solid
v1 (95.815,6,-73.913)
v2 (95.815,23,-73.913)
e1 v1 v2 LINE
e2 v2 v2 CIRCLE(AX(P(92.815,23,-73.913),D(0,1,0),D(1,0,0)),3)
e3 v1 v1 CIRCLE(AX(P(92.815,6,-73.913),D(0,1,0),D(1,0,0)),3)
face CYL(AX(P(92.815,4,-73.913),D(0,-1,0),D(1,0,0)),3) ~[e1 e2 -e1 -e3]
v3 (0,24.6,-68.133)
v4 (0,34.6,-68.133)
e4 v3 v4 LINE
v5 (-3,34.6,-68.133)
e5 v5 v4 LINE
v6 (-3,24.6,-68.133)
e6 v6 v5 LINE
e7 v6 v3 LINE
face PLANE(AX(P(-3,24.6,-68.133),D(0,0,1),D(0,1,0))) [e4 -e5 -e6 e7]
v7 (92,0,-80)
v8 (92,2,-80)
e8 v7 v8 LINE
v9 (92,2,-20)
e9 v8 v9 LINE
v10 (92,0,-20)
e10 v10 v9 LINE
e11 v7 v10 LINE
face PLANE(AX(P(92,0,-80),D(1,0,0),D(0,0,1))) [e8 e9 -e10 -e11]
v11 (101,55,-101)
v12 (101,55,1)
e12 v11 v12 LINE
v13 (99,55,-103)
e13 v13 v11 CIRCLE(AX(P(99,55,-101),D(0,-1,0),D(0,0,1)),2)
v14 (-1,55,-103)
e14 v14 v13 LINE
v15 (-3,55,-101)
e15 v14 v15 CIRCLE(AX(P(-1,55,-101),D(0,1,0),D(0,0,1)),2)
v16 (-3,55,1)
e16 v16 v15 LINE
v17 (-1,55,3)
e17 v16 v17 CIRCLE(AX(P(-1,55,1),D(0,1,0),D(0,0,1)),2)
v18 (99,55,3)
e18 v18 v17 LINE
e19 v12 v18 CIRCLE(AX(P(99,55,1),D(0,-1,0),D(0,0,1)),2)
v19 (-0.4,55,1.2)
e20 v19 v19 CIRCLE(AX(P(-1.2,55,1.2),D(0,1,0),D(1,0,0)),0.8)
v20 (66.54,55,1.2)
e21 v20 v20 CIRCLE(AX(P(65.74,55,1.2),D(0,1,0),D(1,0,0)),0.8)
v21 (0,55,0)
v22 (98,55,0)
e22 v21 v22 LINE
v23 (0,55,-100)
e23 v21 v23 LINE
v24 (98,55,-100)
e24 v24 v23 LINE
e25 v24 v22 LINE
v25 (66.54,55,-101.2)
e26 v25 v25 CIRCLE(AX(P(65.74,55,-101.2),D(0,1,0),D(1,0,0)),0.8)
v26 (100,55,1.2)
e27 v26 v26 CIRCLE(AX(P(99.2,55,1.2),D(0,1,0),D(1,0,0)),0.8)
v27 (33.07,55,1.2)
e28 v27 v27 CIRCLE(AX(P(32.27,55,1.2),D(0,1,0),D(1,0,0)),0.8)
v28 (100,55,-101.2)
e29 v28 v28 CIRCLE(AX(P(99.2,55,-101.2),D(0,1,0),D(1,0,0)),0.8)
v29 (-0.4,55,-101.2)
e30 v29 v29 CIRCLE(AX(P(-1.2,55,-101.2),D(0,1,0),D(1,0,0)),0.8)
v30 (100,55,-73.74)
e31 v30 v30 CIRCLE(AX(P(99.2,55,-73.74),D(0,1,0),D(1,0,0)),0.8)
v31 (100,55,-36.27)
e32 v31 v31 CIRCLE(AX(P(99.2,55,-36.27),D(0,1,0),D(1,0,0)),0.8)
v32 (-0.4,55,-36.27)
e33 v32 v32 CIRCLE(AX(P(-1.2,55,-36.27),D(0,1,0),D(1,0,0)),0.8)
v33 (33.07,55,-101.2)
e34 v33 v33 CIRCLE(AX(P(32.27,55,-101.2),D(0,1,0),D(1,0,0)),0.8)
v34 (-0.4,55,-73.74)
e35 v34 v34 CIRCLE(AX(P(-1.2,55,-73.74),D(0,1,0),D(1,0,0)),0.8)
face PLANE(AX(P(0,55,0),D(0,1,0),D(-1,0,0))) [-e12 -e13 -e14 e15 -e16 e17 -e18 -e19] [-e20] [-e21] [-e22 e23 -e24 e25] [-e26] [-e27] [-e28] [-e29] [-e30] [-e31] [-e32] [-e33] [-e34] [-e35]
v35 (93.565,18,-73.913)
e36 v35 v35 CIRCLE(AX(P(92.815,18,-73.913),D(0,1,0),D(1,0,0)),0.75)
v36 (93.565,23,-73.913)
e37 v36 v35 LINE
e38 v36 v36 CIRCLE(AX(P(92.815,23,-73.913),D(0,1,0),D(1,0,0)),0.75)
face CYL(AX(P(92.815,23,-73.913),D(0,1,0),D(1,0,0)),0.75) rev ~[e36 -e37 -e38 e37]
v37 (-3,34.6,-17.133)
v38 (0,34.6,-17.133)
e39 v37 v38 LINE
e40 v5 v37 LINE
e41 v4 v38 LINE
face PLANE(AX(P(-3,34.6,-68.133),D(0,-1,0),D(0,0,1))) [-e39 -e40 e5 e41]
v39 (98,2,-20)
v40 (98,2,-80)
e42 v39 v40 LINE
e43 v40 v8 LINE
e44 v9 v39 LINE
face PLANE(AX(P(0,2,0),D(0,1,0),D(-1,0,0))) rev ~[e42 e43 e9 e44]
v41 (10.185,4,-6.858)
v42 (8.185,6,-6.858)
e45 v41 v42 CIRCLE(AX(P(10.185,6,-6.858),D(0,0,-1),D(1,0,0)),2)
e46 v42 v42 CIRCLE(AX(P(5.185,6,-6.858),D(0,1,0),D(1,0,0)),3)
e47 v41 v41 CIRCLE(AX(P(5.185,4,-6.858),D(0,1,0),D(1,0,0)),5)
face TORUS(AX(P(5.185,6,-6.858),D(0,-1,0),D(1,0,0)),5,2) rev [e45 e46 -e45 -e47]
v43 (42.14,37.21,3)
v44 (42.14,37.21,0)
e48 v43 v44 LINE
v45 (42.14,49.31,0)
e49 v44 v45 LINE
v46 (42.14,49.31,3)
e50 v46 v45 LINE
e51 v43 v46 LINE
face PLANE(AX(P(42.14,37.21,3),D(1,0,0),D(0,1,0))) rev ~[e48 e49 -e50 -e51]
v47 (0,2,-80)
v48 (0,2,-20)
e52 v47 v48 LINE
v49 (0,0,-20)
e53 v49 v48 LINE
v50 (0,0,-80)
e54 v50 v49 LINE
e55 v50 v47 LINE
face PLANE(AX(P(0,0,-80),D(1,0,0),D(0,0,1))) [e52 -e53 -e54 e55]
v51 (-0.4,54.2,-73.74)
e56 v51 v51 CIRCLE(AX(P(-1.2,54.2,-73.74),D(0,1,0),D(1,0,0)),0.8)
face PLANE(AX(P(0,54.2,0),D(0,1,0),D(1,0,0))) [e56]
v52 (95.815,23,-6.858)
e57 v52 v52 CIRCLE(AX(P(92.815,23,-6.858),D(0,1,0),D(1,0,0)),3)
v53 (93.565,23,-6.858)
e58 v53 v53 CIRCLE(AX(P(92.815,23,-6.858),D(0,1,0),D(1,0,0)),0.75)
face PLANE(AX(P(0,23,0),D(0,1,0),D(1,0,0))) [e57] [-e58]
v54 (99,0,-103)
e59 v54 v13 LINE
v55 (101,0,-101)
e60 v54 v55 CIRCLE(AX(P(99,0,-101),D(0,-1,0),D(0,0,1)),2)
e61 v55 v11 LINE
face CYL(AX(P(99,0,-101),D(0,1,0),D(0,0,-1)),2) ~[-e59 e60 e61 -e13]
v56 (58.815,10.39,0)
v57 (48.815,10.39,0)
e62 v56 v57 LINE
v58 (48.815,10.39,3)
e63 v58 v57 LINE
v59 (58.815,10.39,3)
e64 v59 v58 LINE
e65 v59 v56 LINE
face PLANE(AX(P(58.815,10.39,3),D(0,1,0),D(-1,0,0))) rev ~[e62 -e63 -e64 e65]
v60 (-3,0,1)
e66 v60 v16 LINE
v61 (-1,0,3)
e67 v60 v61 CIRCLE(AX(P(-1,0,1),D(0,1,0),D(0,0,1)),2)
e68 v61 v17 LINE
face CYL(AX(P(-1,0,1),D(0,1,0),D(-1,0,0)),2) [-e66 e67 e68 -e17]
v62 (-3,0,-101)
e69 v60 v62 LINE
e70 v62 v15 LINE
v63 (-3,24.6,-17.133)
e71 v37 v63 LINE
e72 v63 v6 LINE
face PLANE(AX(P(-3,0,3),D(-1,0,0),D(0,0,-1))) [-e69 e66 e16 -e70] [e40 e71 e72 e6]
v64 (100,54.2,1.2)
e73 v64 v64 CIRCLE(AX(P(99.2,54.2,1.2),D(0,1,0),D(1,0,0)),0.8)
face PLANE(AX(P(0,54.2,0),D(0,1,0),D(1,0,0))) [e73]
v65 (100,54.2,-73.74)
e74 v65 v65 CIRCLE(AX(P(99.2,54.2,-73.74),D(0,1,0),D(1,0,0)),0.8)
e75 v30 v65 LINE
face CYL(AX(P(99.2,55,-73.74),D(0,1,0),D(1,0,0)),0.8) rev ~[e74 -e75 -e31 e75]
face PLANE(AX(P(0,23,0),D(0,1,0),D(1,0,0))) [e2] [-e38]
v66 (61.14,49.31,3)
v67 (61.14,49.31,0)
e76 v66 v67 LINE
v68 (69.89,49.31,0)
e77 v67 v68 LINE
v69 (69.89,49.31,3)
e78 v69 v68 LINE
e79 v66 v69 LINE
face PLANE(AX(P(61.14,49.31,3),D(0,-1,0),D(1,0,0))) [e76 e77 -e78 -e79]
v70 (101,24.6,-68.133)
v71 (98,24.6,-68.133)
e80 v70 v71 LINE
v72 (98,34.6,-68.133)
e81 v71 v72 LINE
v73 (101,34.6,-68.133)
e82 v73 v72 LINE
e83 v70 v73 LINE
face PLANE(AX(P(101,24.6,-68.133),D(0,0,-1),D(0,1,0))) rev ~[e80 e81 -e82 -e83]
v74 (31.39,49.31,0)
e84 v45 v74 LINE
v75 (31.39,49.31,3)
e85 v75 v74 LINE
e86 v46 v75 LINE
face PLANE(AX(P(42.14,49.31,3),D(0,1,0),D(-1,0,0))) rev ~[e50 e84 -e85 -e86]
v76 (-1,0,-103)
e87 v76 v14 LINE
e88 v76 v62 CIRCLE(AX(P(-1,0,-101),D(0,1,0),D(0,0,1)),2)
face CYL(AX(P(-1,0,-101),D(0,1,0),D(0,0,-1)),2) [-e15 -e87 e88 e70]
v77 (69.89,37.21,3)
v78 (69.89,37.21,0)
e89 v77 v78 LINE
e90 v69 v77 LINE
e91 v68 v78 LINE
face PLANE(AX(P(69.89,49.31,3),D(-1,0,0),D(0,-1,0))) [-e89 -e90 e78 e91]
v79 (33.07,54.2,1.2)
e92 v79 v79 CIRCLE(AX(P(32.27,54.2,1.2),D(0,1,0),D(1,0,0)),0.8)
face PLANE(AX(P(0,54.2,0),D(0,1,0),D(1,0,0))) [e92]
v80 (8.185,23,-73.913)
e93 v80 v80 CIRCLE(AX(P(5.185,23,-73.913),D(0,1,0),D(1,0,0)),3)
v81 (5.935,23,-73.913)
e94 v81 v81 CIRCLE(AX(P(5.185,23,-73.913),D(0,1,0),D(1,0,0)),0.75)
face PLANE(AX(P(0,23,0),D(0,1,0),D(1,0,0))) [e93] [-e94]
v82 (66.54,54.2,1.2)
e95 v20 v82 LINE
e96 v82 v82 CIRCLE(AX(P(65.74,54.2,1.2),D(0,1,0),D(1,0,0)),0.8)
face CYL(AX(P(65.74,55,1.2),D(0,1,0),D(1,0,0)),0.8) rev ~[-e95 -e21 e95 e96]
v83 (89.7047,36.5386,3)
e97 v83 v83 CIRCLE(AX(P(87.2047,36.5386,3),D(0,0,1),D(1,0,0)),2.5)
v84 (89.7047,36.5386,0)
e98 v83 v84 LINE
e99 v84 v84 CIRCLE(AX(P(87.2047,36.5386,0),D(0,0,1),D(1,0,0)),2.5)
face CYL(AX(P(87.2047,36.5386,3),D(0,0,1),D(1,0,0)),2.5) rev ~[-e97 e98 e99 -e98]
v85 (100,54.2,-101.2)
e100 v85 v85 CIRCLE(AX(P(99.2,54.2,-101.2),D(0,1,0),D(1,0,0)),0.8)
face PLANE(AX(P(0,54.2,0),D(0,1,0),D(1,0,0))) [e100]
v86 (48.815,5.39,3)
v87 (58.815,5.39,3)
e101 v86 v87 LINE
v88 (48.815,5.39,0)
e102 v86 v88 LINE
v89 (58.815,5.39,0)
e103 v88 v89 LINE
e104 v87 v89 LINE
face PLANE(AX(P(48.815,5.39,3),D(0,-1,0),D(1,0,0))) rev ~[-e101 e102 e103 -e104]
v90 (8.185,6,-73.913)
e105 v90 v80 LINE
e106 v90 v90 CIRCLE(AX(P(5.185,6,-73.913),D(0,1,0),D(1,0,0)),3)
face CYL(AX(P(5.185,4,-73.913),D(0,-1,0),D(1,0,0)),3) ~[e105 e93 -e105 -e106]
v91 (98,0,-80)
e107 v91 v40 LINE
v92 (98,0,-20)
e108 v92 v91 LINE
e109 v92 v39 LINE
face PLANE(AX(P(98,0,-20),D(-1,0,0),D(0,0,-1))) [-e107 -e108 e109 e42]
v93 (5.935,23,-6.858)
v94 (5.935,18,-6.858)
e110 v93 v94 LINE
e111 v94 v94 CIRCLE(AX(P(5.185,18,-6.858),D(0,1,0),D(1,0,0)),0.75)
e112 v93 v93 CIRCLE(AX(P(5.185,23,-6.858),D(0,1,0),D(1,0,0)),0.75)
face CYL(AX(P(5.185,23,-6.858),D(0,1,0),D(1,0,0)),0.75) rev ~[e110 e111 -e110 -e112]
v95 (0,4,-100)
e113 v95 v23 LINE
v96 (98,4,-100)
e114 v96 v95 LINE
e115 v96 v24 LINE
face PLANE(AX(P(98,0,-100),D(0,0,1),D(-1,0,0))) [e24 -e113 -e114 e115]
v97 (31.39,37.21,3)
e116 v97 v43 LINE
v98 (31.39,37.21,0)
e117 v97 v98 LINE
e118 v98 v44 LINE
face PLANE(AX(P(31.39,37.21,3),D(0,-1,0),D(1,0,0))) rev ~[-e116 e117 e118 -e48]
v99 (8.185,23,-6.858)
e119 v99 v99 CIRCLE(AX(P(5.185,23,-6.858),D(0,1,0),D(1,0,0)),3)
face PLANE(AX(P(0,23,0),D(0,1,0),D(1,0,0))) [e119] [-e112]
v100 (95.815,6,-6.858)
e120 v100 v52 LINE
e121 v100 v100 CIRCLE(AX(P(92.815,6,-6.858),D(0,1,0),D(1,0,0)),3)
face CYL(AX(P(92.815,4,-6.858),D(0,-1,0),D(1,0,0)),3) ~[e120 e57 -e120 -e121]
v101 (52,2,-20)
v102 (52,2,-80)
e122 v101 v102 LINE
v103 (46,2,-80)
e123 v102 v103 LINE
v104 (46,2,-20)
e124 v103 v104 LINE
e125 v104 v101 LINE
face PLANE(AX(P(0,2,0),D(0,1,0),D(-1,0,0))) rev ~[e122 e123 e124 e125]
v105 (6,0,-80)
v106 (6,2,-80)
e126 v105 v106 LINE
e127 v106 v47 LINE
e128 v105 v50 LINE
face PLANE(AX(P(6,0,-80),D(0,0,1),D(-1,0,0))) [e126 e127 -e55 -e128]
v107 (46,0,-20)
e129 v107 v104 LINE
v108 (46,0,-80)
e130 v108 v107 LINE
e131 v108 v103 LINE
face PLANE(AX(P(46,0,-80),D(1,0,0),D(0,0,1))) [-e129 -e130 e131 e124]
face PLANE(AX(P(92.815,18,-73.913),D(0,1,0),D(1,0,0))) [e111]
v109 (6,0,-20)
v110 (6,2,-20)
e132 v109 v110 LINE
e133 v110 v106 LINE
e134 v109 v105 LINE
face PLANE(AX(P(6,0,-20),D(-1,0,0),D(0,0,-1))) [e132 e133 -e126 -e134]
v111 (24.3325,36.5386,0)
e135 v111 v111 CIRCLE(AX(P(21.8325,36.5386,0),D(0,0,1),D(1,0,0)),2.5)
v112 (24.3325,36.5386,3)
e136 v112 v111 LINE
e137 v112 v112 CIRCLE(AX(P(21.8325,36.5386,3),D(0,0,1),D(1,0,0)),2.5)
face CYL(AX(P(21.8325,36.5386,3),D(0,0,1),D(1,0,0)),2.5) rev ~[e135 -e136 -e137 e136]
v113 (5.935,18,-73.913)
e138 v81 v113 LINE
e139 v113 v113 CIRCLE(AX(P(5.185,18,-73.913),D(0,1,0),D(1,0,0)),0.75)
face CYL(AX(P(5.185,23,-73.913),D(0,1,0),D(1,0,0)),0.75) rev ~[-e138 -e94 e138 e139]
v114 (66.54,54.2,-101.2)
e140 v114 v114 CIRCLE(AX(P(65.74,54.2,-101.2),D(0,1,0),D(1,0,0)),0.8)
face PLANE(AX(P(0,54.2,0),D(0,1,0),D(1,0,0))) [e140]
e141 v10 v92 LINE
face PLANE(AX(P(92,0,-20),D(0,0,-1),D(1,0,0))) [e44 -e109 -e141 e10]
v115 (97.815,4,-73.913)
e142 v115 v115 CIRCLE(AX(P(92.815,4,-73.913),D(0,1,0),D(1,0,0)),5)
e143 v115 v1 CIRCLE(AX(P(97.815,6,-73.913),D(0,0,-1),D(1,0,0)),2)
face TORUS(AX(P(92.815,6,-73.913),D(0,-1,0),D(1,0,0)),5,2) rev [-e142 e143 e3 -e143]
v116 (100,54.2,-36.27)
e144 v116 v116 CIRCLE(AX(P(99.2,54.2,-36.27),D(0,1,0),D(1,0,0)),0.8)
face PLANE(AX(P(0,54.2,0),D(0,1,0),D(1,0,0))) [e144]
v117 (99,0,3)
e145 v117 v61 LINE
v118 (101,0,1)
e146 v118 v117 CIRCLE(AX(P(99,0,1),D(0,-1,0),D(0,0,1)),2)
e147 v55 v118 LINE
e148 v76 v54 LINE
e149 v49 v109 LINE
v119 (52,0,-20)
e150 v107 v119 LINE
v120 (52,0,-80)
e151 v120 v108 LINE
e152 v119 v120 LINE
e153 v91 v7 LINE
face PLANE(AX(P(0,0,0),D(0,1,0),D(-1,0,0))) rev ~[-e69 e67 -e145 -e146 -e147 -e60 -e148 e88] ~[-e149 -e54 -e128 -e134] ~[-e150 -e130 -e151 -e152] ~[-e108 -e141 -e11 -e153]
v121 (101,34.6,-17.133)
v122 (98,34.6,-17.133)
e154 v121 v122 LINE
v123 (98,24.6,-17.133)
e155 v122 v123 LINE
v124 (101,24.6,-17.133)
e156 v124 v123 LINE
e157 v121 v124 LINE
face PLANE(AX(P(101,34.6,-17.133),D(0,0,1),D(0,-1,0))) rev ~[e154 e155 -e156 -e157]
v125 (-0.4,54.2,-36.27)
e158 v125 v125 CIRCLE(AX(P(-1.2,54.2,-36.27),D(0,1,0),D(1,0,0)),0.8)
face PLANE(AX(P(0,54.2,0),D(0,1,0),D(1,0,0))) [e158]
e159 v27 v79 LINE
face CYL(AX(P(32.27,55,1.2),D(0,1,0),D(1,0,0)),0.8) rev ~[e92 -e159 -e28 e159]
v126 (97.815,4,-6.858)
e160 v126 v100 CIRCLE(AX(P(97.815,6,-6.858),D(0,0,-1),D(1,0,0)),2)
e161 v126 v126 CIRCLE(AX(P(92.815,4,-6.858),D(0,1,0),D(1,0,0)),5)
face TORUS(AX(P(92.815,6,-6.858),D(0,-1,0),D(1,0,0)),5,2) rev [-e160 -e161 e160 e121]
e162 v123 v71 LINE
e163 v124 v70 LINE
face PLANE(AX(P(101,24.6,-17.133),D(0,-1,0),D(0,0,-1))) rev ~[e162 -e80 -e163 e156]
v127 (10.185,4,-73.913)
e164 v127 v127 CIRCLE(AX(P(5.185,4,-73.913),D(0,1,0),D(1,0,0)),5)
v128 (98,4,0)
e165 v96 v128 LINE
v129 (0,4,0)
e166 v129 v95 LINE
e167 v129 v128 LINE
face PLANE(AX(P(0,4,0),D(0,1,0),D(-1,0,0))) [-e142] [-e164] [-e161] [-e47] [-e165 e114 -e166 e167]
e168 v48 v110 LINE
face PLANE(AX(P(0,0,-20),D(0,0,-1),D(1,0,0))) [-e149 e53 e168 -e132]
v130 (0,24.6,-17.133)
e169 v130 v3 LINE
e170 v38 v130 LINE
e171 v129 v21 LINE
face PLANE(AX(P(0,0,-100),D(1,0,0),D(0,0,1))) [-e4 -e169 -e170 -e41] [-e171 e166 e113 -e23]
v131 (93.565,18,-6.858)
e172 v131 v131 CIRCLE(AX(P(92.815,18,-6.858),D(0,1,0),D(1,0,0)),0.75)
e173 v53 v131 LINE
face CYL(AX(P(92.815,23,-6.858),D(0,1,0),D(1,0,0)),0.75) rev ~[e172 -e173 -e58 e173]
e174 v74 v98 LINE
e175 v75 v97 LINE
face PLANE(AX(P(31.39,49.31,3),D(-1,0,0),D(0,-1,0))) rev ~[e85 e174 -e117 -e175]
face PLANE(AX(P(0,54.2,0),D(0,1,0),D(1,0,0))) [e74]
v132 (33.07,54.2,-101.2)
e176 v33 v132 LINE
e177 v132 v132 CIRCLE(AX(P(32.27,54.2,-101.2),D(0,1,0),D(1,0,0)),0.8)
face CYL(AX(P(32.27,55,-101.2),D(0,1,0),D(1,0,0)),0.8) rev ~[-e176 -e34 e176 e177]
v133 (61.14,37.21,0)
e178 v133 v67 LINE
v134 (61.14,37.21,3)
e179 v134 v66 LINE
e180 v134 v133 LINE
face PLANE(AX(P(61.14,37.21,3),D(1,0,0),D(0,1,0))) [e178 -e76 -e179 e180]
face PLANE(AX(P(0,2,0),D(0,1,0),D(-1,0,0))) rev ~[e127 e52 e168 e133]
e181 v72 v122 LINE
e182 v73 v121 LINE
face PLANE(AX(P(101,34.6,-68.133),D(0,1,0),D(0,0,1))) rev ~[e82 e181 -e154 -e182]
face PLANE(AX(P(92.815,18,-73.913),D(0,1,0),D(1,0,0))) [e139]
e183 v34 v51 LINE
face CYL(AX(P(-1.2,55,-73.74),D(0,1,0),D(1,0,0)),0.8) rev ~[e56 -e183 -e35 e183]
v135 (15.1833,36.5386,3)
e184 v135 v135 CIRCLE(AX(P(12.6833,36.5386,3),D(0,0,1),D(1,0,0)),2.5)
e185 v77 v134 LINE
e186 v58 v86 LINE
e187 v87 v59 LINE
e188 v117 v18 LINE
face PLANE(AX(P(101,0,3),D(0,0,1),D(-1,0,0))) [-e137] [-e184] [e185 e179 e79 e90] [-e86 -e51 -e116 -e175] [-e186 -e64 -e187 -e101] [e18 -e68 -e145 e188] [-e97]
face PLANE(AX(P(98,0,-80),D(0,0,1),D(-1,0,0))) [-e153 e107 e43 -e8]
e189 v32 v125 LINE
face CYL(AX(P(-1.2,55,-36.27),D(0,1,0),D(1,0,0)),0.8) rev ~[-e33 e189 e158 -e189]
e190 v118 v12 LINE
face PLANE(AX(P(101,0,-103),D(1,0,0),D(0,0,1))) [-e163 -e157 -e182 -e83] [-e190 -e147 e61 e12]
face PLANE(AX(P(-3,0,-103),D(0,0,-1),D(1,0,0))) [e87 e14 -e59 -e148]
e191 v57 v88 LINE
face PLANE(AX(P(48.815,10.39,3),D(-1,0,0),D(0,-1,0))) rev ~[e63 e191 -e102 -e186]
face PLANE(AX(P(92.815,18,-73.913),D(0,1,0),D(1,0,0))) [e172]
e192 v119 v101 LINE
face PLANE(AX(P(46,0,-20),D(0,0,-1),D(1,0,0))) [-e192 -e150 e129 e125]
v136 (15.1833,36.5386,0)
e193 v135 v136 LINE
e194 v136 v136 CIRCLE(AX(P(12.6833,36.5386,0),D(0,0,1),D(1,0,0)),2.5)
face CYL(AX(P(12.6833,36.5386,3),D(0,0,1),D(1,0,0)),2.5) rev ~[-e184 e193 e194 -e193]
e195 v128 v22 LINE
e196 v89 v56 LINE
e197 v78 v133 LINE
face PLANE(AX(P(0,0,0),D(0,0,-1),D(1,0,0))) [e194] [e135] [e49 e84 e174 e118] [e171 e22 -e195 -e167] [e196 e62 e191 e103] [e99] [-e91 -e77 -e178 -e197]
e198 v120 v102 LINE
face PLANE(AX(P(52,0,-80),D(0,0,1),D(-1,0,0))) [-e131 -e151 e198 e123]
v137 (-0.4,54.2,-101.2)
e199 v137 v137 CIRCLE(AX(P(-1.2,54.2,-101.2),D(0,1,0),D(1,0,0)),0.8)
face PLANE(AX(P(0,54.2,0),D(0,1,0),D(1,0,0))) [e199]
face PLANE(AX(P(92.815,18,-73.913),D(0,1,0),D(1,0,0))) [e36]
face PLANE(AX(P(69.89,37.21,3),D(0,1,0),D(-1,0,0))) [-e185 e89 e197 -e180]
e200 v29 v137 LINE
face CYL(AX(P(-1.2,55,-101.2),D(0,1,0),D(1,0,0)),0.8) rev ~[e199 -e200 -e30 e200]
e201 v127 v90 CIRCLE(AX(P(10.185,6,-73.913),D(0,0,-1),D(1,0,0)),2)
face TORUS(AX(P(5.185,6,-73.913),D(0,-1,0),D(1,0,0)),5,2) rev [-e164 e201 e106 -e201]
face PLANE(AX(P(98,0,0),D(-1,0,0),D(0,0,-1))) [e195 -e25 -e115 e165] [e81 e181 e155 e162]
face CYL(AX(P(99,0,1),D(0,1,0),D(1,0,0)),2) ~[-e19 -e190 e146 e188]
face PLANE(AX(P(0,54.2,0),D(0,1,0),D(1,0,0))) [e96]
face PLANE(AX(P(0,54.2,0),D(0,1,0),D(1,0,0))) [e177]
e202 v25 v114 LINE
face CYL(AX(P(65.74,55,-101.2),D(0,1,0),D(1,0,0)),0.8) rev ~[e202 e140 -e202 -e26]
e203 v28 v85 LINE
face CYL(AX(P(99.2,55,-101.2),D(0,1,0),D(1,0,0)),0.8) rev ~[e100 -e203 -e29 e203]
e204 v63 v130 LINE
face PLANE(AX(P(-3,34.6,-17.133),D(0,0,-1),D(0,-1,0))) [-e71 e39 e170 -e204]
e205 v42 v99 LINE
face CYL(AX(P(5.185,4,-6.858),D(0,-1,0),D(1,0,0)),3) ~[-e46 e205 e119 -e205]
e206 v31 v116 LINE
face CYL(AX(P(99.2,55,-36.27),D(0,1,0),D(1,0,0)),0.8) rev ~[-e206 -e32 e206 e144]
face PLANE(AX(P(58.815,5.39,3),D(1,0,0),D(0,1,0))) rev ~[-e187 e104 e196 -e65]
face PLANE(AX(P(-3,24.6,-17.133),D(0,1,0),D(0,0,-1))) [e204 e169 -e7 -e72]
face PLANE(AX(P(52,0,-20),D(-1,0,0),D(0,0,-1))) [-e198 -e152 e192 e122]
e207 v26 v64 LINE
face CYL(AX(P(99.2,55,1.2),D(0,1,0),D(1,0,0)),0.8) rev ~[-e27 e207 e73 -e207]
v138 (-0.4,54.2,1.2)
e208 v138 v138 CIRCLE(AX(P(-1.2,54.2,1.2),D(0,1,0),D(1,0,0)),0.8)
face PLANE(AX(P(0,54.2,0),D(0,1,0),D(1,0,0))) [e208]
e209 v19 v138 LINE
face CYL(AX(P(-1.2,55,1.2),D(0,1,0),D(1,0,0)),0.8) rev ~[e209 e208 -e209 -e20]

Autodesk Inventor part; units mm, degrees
ref_plane "YZ Plane" through (0, 0, 0) normal (1, 0, 0) x (0, 1, 0)
ref_plane "XZ Plane" through (0, 0, 0) normal (0, 1, 0) x (-1, 0, 0)
ref_plane "XY Plane" through (0, 0, 0) normal (0, 0, 1) x (1, 0, 0)
sketch "Sketch1" plane through (0, 0, 0) normal (0, 1, 0) x (-1, 0, 0)
  line L0 (0, 0) -> (-98, 0)
  line L1 (-98, 0) -> (-98, -100)
  line L2 (-98, -100) -> (0, -100)
  line L3 (0, -100) -> (0, 0)
  line L4 (3, -103) -> (-101, -103)
  line L5 (-101, -103) -> (-101, 3)
  line L6 (-101, 3) -> (3, 3)
  line L7 (3, 3) -> (3, -103)
  line L8 (0, -20) -> (-6, -20)
  line L9 (-6, -20) -> (-6, -80)
  line L10 (-6, -80) -> (0, -80)
  line L11 (0, -80) -> (0, -20)
  line L12 (-46, -20) -> (-52, -20)
  line L13 (-52, -20) -> (-52, -80)
  line L14 (-52, -80) -> (-46, -80)
  line L15 (-46, -80) -> (-46, -20)
  line L16 (-92, -20) -> (-98, -20)
  line L17 (-98, -20) -> (-98, -80)
  line L18 (-98, -80) -> (-92, -80)
  line L19 (-92, -80) -> (-92, -20)
  point P0 (-49, -20)
  point P1 (-6, -50)
  point P2 (-98, -20)
  point P3 (-98, -80)
  point P4 (0, -80)
  point P5 (0, -20)
  dimension "d0" = 100
  dimension "d1" = 98
  dimension "d2" = 3
  dimension "d48" = 6
  dimension "d49" = 60
  dimension "d50" = 6
  dimension "d51" = 60
  dimension "d52" = 6
  dimension "d53" = 60
  dimension "d54" = 49
  dimension "d55" = 50
extrude "Extrusion1" add sketch "Sketch1" along normal blind 4 contours L3 L8 L9 L10 L2 L1 L18 L19 L16 L0 | L3 L10 L9 L8 | L16 L19 L18 L1 | L15 L14 L13 L12
extrude "Extrusion2" add sketch "Sketch1" along normal blind 55 contours L4 L5 L6 L7
fillet "Fillet1" radius 2 4 edges at (-3, 27.5, 3) (101, 27.5, 3) (101, 27.5, -103) (-3, 27.5, -103)
sketch "Sketch2" plane through (0, 4, 0) normal (0, 1, 0) x (1, 0, 0)
  line L0 (98, 0) -> (98, 100) projected
  line L1 (98, 100) -> (0, 100) projected
  line L2 (0, 100) -> (0, 0) projected
  line L3 (0, 0) -> (98, 0) projected
  circle A0 centre (5.185, 73.913) radius 3
  circle A1 centre (5.185, 6.858) radius 3
  circle A2 centre (92.815, 6.858) radius 3
  circle A3 centre (92.815, 73.913) radius 3
  dimension "d8" = 6
  dimension "d9" = 6
  dimension "d10" = 6
  dimension "d11" = 6
  dimension "d12" = 67.055
  dimension "d13" = 87.63
  dimension "d16" = 6.858
  dimension "d17" = 5.185
extrude "Extrusion3" add sketch "Sketch2" along normal blind 19 contours A0 | A1 | A2 | A3
sketch "Sketch3" plane through (92.815, 23, -73.913) normal (0, 1, 0) x (1, 0, 0)
  circle A0 centre (0, -67.055) radius 3 projected
  circle A1 centre (0, -67.055) radius 0.75
  circle A2 centre (0, 0) radius 3 projected
  circle A3 centre (0, 0) radius 0.75
  circle A4 centre (-87.63, 0) radius 3 projected
  circle A5 centre (-87.63, 0) radius 0.75
  circle A6 centre (-87.63, -67.055) radius 3 projected
  circle A7 centre (-87.63, -67.055) radius 0.75
  point P0 (-92.815, -73.913)
  dimension "d21" = 1.5
  dimension "d22" = 1.5
  dimension "d23" = 1.5
  dimension "d24" = 1.5
extrude "Extrusion4" cut sketch "Sketch3" against normal blind 5 contours A1 | A3 | A5 | A7
fillet "Fillet2" radius 2 4 edges at (89.815, 4, -73.913) (89.815, 4, -6.858) (2.185, 4, -6.858) (2.185, 4, -73.913)
extrude "Extrusion5" cut sketch "Sketch1" along normal blind 2 contours L3 L10 L9 L8 | L16 L19 L18 L1 | L15 L14 L13 L12
sketch "Sketch4" plane through (-1, 0, 3) normal (0, 0, 1) x (1, 0, 0)
  line L0 (11.185, 4) -> (1.185, 4) projected
  line L1 (98.815, 4) -> (88.815, 4) projected
  line L2 (99, 4) -> (1, 4) projected
  line L3 (1, 4) -> (99, 4) projected
  line L4 (98.815, 4) -> (88.815, 4) projected
  line L5 (11.185, 4) -> (1.185, 4) projected
  line L6 (1, 4) -> (1, 55) projected
  line L7 (1, 4) -> (1, 55) projected
  line L8 (99, 4) -> (99, 55) projected
  line L9 (99, 4) -> (99, 55) projected
  line L10 (43.14, 49.31) -> (32.39, 49.31)
  line L11 (32.39, 49.31) -> (32.39, 37.21)
  line L12 (32.39, 37.21) -> (43.14, 37.21)
  line L13 (43.14, 37.21) -> (43.14, 49.31)
  line L14 (49.815, 5.39) -> (59.815, 5.39)
  line L15 (59.815, 5.39) -> (59.815, 10.39)
  line L16 (59.815, 10.39) -> (49.815, 10.39)
  line L17 (49.815, 10.39) -> (49.815, 5.39)
  line L18 (62.14, 49.31) -> (70.89, 49.31)
  line L19 (70.89, 49.31) -> (70.89, 37.21)
  line L20 (70.89, 37.21) -> (62.14, 37.21)
  line L21 (62.14, 37.21) -> (62.14, 49.31)
  line L22 (9.185, 23) -> (3.185, 23) projected
  line L23 (96.815, 23) -> (90.815, 23) projected
  circle A0 centre (13.6833, 36.5386) radius 2.5
  circle A1 centre (22.8325, 36.5386) radius 2.5
  circle A2 centre (88.2047, 36.5386) radius 2.5
  point P0 (1, 0)
  point P1 (66.515, 37.21)
  point P2 (70.89, 43.26)
  point P3 (59.815, 7.89)
  point P4 (49.815, 7.89)
  point P5 (54.815, 5.39)
  point P6 (54.815, 10.39)
  point P7 (6.185, 23)
  point P8 (37.765, 37.21)
  point P9 (93.815, 23)
  dimension "d56" = 12.1
  dimension "d57" = 19
  dimension "d59" = 10.75
  dimension "d60" = 12.1
  dimension "d61" = 8.75
  dimension "d62" = 10
  dimension "d63" = 5
  dimension "d103" = 12.61
  dimension "d105" = 14.21
  dimension "d106" = 39
  dimension "d107" = 27.3
  dimension "d108" = 5
  dimension "d109" = 5
  dimension "d110" = 5
extrude "Extrusion6" cut sketch "Sketch4" against normal up to surface (3 mm away)
sketch "Sketch5" plane through (101, 0, 1) normal (1, 0, 0) x (0, 0, -1)
  line L0 (12.858, 4) -> (2.858, 4) projected
  line L1 (79.913, 4) -> (69.913, 4) projected
  line L2 (1, 4) -> (101, 4) projected
  line L3 (101, 4) -> (1, 4) projected
  line L4 (12.858, 4) -> (2.858, 4) projected
  line L5 (79.913, 4) -> (69.913, 4) projected
  line L6 (1, 37.21) -> (1, 49.31) projected
  line L7 (1, 49.31) -> (1, 37.21) projected
  line L8 (1, 49.31) -> (1, 37.21) projected
  line L9 (1, 37.21) -> (1, 49.31) projected
  line L10 (1, 4) -> (1, 55) projected
  line L11 (1, 4) -> (1, 55) projected
  line L12 (10.858, 23) -> (4.858, 23) projected
  line L13 (77.913, 23) -> (71.913, 23) projected
  line L14 (18.133, 24.6) -> (69.133, 24.6)
  line L15 (69.133, 24.6) -> (69.133, 34.6)
  line L16 (69.133, 34.6) -> (18.133, 34.6)
  line L17 (18.133, 34.6) -> (18.133, 24.6)
  line L18 (12.858, 4) -> (2.858, 4) projected
  line L19 (4.858, 6) -> (10.858, 6) projected
  line L20 (79.913, 4) -> (69.913, 4) projected
  line L21 (71.913, 6) -> (77.913, 6) projected
  line L22 (1, 10.39) -> (1, 5.39) projected
  line L23 (1, 5.39) -> (1, 10.39) projected
  point P0 (1, 0)
  point P1 (74.913, 23)
  dimension "d98" = 10
  dimension "d99" = 51
  dimension "d101" = 1.6
  dimension "d102" = 5.78
sketch "Sketch6" plane through (-3, 0, -101) normal (-1, 0, 0) x (0, 0, 1)
  line L0 (32.867, 34.6) -> (83.867, 34.6) projected
  line L1 (32.867, 24.6) -> (32.867, 34.6) projected
  line L2 (83.867, 24.6) -> (32.867, 24.6) projected
  line L3 (83.867, 34.6) -> (83.867, 24.6) projected
  point P0 (101, 0)
extrude "Extrusion7" cut sketch "Sketch5" against normal up to surface (3 mm away)
extrude "Extrusion8" cut sketch "Sketch6" against normal up to surface (3 mm away)
sketch "Sketch7" plane through (0, 55, 0) normal (0, 1, 0) x (1, 0, 0)
  circle A0 centre (-1.2, -1.2) radius 0.8
  circle A1 centre (99.2, -1.2) radius 0.8
  line L0 (98, 100) -> (98, 0) projected
  circle A2 centre (99.2, 101.2) radius 0.8
  line L1 (0, 100) -> (98, 100) projected
  circle A3 centre (-1.2, 101.2) radius 0.8
  line L2 (0, 0) -> (0, 100) projected
  circle A4 centre (32.27, -1.2) radius 0.8
  circle A5 centre (32.27, 101.2) radius 0.8
  circle A6 centre (65.74, -1.2) radius 0.8
  circle A7 centre (65.74, 101.2) radius 0.8
  circle A8 centre (-1.2, 36.27) radius 0.8
  circle A9 centre (99.2, 36.27) radius 0.8
  circle A10 centre (-1.2, 73.74) radius 0.8
  circle A11 centre (99.2, 73.74) radius 0.8
  dimension "d1" = 98
  dimension "d64" = 1.6
  dimension "d65" = 1.2
  dimension "d66" = 1.2
  dimension "d67" = 1.6
  dimension "d68" = 1.2
  dimension "d69" = 1.6
  dimension "d70" = 1.2
  dimension "d71" = 1.2
  dimension "d72" = 1.6
  dimension "d73" = 1.2
  dimension "d74" = 1.2
  dimension "d87" = 33.47
  dimension "d91" = 37.47
extrude "Extrusion9" cut sketch "Sketch7" against normal blind 0.8
equation "\"d54\" = 0.5 * d1"
equation "\"d55\" = 0.5 * d0"
equation "\"d60\" = d56"
properties part number "Base Chassis"
